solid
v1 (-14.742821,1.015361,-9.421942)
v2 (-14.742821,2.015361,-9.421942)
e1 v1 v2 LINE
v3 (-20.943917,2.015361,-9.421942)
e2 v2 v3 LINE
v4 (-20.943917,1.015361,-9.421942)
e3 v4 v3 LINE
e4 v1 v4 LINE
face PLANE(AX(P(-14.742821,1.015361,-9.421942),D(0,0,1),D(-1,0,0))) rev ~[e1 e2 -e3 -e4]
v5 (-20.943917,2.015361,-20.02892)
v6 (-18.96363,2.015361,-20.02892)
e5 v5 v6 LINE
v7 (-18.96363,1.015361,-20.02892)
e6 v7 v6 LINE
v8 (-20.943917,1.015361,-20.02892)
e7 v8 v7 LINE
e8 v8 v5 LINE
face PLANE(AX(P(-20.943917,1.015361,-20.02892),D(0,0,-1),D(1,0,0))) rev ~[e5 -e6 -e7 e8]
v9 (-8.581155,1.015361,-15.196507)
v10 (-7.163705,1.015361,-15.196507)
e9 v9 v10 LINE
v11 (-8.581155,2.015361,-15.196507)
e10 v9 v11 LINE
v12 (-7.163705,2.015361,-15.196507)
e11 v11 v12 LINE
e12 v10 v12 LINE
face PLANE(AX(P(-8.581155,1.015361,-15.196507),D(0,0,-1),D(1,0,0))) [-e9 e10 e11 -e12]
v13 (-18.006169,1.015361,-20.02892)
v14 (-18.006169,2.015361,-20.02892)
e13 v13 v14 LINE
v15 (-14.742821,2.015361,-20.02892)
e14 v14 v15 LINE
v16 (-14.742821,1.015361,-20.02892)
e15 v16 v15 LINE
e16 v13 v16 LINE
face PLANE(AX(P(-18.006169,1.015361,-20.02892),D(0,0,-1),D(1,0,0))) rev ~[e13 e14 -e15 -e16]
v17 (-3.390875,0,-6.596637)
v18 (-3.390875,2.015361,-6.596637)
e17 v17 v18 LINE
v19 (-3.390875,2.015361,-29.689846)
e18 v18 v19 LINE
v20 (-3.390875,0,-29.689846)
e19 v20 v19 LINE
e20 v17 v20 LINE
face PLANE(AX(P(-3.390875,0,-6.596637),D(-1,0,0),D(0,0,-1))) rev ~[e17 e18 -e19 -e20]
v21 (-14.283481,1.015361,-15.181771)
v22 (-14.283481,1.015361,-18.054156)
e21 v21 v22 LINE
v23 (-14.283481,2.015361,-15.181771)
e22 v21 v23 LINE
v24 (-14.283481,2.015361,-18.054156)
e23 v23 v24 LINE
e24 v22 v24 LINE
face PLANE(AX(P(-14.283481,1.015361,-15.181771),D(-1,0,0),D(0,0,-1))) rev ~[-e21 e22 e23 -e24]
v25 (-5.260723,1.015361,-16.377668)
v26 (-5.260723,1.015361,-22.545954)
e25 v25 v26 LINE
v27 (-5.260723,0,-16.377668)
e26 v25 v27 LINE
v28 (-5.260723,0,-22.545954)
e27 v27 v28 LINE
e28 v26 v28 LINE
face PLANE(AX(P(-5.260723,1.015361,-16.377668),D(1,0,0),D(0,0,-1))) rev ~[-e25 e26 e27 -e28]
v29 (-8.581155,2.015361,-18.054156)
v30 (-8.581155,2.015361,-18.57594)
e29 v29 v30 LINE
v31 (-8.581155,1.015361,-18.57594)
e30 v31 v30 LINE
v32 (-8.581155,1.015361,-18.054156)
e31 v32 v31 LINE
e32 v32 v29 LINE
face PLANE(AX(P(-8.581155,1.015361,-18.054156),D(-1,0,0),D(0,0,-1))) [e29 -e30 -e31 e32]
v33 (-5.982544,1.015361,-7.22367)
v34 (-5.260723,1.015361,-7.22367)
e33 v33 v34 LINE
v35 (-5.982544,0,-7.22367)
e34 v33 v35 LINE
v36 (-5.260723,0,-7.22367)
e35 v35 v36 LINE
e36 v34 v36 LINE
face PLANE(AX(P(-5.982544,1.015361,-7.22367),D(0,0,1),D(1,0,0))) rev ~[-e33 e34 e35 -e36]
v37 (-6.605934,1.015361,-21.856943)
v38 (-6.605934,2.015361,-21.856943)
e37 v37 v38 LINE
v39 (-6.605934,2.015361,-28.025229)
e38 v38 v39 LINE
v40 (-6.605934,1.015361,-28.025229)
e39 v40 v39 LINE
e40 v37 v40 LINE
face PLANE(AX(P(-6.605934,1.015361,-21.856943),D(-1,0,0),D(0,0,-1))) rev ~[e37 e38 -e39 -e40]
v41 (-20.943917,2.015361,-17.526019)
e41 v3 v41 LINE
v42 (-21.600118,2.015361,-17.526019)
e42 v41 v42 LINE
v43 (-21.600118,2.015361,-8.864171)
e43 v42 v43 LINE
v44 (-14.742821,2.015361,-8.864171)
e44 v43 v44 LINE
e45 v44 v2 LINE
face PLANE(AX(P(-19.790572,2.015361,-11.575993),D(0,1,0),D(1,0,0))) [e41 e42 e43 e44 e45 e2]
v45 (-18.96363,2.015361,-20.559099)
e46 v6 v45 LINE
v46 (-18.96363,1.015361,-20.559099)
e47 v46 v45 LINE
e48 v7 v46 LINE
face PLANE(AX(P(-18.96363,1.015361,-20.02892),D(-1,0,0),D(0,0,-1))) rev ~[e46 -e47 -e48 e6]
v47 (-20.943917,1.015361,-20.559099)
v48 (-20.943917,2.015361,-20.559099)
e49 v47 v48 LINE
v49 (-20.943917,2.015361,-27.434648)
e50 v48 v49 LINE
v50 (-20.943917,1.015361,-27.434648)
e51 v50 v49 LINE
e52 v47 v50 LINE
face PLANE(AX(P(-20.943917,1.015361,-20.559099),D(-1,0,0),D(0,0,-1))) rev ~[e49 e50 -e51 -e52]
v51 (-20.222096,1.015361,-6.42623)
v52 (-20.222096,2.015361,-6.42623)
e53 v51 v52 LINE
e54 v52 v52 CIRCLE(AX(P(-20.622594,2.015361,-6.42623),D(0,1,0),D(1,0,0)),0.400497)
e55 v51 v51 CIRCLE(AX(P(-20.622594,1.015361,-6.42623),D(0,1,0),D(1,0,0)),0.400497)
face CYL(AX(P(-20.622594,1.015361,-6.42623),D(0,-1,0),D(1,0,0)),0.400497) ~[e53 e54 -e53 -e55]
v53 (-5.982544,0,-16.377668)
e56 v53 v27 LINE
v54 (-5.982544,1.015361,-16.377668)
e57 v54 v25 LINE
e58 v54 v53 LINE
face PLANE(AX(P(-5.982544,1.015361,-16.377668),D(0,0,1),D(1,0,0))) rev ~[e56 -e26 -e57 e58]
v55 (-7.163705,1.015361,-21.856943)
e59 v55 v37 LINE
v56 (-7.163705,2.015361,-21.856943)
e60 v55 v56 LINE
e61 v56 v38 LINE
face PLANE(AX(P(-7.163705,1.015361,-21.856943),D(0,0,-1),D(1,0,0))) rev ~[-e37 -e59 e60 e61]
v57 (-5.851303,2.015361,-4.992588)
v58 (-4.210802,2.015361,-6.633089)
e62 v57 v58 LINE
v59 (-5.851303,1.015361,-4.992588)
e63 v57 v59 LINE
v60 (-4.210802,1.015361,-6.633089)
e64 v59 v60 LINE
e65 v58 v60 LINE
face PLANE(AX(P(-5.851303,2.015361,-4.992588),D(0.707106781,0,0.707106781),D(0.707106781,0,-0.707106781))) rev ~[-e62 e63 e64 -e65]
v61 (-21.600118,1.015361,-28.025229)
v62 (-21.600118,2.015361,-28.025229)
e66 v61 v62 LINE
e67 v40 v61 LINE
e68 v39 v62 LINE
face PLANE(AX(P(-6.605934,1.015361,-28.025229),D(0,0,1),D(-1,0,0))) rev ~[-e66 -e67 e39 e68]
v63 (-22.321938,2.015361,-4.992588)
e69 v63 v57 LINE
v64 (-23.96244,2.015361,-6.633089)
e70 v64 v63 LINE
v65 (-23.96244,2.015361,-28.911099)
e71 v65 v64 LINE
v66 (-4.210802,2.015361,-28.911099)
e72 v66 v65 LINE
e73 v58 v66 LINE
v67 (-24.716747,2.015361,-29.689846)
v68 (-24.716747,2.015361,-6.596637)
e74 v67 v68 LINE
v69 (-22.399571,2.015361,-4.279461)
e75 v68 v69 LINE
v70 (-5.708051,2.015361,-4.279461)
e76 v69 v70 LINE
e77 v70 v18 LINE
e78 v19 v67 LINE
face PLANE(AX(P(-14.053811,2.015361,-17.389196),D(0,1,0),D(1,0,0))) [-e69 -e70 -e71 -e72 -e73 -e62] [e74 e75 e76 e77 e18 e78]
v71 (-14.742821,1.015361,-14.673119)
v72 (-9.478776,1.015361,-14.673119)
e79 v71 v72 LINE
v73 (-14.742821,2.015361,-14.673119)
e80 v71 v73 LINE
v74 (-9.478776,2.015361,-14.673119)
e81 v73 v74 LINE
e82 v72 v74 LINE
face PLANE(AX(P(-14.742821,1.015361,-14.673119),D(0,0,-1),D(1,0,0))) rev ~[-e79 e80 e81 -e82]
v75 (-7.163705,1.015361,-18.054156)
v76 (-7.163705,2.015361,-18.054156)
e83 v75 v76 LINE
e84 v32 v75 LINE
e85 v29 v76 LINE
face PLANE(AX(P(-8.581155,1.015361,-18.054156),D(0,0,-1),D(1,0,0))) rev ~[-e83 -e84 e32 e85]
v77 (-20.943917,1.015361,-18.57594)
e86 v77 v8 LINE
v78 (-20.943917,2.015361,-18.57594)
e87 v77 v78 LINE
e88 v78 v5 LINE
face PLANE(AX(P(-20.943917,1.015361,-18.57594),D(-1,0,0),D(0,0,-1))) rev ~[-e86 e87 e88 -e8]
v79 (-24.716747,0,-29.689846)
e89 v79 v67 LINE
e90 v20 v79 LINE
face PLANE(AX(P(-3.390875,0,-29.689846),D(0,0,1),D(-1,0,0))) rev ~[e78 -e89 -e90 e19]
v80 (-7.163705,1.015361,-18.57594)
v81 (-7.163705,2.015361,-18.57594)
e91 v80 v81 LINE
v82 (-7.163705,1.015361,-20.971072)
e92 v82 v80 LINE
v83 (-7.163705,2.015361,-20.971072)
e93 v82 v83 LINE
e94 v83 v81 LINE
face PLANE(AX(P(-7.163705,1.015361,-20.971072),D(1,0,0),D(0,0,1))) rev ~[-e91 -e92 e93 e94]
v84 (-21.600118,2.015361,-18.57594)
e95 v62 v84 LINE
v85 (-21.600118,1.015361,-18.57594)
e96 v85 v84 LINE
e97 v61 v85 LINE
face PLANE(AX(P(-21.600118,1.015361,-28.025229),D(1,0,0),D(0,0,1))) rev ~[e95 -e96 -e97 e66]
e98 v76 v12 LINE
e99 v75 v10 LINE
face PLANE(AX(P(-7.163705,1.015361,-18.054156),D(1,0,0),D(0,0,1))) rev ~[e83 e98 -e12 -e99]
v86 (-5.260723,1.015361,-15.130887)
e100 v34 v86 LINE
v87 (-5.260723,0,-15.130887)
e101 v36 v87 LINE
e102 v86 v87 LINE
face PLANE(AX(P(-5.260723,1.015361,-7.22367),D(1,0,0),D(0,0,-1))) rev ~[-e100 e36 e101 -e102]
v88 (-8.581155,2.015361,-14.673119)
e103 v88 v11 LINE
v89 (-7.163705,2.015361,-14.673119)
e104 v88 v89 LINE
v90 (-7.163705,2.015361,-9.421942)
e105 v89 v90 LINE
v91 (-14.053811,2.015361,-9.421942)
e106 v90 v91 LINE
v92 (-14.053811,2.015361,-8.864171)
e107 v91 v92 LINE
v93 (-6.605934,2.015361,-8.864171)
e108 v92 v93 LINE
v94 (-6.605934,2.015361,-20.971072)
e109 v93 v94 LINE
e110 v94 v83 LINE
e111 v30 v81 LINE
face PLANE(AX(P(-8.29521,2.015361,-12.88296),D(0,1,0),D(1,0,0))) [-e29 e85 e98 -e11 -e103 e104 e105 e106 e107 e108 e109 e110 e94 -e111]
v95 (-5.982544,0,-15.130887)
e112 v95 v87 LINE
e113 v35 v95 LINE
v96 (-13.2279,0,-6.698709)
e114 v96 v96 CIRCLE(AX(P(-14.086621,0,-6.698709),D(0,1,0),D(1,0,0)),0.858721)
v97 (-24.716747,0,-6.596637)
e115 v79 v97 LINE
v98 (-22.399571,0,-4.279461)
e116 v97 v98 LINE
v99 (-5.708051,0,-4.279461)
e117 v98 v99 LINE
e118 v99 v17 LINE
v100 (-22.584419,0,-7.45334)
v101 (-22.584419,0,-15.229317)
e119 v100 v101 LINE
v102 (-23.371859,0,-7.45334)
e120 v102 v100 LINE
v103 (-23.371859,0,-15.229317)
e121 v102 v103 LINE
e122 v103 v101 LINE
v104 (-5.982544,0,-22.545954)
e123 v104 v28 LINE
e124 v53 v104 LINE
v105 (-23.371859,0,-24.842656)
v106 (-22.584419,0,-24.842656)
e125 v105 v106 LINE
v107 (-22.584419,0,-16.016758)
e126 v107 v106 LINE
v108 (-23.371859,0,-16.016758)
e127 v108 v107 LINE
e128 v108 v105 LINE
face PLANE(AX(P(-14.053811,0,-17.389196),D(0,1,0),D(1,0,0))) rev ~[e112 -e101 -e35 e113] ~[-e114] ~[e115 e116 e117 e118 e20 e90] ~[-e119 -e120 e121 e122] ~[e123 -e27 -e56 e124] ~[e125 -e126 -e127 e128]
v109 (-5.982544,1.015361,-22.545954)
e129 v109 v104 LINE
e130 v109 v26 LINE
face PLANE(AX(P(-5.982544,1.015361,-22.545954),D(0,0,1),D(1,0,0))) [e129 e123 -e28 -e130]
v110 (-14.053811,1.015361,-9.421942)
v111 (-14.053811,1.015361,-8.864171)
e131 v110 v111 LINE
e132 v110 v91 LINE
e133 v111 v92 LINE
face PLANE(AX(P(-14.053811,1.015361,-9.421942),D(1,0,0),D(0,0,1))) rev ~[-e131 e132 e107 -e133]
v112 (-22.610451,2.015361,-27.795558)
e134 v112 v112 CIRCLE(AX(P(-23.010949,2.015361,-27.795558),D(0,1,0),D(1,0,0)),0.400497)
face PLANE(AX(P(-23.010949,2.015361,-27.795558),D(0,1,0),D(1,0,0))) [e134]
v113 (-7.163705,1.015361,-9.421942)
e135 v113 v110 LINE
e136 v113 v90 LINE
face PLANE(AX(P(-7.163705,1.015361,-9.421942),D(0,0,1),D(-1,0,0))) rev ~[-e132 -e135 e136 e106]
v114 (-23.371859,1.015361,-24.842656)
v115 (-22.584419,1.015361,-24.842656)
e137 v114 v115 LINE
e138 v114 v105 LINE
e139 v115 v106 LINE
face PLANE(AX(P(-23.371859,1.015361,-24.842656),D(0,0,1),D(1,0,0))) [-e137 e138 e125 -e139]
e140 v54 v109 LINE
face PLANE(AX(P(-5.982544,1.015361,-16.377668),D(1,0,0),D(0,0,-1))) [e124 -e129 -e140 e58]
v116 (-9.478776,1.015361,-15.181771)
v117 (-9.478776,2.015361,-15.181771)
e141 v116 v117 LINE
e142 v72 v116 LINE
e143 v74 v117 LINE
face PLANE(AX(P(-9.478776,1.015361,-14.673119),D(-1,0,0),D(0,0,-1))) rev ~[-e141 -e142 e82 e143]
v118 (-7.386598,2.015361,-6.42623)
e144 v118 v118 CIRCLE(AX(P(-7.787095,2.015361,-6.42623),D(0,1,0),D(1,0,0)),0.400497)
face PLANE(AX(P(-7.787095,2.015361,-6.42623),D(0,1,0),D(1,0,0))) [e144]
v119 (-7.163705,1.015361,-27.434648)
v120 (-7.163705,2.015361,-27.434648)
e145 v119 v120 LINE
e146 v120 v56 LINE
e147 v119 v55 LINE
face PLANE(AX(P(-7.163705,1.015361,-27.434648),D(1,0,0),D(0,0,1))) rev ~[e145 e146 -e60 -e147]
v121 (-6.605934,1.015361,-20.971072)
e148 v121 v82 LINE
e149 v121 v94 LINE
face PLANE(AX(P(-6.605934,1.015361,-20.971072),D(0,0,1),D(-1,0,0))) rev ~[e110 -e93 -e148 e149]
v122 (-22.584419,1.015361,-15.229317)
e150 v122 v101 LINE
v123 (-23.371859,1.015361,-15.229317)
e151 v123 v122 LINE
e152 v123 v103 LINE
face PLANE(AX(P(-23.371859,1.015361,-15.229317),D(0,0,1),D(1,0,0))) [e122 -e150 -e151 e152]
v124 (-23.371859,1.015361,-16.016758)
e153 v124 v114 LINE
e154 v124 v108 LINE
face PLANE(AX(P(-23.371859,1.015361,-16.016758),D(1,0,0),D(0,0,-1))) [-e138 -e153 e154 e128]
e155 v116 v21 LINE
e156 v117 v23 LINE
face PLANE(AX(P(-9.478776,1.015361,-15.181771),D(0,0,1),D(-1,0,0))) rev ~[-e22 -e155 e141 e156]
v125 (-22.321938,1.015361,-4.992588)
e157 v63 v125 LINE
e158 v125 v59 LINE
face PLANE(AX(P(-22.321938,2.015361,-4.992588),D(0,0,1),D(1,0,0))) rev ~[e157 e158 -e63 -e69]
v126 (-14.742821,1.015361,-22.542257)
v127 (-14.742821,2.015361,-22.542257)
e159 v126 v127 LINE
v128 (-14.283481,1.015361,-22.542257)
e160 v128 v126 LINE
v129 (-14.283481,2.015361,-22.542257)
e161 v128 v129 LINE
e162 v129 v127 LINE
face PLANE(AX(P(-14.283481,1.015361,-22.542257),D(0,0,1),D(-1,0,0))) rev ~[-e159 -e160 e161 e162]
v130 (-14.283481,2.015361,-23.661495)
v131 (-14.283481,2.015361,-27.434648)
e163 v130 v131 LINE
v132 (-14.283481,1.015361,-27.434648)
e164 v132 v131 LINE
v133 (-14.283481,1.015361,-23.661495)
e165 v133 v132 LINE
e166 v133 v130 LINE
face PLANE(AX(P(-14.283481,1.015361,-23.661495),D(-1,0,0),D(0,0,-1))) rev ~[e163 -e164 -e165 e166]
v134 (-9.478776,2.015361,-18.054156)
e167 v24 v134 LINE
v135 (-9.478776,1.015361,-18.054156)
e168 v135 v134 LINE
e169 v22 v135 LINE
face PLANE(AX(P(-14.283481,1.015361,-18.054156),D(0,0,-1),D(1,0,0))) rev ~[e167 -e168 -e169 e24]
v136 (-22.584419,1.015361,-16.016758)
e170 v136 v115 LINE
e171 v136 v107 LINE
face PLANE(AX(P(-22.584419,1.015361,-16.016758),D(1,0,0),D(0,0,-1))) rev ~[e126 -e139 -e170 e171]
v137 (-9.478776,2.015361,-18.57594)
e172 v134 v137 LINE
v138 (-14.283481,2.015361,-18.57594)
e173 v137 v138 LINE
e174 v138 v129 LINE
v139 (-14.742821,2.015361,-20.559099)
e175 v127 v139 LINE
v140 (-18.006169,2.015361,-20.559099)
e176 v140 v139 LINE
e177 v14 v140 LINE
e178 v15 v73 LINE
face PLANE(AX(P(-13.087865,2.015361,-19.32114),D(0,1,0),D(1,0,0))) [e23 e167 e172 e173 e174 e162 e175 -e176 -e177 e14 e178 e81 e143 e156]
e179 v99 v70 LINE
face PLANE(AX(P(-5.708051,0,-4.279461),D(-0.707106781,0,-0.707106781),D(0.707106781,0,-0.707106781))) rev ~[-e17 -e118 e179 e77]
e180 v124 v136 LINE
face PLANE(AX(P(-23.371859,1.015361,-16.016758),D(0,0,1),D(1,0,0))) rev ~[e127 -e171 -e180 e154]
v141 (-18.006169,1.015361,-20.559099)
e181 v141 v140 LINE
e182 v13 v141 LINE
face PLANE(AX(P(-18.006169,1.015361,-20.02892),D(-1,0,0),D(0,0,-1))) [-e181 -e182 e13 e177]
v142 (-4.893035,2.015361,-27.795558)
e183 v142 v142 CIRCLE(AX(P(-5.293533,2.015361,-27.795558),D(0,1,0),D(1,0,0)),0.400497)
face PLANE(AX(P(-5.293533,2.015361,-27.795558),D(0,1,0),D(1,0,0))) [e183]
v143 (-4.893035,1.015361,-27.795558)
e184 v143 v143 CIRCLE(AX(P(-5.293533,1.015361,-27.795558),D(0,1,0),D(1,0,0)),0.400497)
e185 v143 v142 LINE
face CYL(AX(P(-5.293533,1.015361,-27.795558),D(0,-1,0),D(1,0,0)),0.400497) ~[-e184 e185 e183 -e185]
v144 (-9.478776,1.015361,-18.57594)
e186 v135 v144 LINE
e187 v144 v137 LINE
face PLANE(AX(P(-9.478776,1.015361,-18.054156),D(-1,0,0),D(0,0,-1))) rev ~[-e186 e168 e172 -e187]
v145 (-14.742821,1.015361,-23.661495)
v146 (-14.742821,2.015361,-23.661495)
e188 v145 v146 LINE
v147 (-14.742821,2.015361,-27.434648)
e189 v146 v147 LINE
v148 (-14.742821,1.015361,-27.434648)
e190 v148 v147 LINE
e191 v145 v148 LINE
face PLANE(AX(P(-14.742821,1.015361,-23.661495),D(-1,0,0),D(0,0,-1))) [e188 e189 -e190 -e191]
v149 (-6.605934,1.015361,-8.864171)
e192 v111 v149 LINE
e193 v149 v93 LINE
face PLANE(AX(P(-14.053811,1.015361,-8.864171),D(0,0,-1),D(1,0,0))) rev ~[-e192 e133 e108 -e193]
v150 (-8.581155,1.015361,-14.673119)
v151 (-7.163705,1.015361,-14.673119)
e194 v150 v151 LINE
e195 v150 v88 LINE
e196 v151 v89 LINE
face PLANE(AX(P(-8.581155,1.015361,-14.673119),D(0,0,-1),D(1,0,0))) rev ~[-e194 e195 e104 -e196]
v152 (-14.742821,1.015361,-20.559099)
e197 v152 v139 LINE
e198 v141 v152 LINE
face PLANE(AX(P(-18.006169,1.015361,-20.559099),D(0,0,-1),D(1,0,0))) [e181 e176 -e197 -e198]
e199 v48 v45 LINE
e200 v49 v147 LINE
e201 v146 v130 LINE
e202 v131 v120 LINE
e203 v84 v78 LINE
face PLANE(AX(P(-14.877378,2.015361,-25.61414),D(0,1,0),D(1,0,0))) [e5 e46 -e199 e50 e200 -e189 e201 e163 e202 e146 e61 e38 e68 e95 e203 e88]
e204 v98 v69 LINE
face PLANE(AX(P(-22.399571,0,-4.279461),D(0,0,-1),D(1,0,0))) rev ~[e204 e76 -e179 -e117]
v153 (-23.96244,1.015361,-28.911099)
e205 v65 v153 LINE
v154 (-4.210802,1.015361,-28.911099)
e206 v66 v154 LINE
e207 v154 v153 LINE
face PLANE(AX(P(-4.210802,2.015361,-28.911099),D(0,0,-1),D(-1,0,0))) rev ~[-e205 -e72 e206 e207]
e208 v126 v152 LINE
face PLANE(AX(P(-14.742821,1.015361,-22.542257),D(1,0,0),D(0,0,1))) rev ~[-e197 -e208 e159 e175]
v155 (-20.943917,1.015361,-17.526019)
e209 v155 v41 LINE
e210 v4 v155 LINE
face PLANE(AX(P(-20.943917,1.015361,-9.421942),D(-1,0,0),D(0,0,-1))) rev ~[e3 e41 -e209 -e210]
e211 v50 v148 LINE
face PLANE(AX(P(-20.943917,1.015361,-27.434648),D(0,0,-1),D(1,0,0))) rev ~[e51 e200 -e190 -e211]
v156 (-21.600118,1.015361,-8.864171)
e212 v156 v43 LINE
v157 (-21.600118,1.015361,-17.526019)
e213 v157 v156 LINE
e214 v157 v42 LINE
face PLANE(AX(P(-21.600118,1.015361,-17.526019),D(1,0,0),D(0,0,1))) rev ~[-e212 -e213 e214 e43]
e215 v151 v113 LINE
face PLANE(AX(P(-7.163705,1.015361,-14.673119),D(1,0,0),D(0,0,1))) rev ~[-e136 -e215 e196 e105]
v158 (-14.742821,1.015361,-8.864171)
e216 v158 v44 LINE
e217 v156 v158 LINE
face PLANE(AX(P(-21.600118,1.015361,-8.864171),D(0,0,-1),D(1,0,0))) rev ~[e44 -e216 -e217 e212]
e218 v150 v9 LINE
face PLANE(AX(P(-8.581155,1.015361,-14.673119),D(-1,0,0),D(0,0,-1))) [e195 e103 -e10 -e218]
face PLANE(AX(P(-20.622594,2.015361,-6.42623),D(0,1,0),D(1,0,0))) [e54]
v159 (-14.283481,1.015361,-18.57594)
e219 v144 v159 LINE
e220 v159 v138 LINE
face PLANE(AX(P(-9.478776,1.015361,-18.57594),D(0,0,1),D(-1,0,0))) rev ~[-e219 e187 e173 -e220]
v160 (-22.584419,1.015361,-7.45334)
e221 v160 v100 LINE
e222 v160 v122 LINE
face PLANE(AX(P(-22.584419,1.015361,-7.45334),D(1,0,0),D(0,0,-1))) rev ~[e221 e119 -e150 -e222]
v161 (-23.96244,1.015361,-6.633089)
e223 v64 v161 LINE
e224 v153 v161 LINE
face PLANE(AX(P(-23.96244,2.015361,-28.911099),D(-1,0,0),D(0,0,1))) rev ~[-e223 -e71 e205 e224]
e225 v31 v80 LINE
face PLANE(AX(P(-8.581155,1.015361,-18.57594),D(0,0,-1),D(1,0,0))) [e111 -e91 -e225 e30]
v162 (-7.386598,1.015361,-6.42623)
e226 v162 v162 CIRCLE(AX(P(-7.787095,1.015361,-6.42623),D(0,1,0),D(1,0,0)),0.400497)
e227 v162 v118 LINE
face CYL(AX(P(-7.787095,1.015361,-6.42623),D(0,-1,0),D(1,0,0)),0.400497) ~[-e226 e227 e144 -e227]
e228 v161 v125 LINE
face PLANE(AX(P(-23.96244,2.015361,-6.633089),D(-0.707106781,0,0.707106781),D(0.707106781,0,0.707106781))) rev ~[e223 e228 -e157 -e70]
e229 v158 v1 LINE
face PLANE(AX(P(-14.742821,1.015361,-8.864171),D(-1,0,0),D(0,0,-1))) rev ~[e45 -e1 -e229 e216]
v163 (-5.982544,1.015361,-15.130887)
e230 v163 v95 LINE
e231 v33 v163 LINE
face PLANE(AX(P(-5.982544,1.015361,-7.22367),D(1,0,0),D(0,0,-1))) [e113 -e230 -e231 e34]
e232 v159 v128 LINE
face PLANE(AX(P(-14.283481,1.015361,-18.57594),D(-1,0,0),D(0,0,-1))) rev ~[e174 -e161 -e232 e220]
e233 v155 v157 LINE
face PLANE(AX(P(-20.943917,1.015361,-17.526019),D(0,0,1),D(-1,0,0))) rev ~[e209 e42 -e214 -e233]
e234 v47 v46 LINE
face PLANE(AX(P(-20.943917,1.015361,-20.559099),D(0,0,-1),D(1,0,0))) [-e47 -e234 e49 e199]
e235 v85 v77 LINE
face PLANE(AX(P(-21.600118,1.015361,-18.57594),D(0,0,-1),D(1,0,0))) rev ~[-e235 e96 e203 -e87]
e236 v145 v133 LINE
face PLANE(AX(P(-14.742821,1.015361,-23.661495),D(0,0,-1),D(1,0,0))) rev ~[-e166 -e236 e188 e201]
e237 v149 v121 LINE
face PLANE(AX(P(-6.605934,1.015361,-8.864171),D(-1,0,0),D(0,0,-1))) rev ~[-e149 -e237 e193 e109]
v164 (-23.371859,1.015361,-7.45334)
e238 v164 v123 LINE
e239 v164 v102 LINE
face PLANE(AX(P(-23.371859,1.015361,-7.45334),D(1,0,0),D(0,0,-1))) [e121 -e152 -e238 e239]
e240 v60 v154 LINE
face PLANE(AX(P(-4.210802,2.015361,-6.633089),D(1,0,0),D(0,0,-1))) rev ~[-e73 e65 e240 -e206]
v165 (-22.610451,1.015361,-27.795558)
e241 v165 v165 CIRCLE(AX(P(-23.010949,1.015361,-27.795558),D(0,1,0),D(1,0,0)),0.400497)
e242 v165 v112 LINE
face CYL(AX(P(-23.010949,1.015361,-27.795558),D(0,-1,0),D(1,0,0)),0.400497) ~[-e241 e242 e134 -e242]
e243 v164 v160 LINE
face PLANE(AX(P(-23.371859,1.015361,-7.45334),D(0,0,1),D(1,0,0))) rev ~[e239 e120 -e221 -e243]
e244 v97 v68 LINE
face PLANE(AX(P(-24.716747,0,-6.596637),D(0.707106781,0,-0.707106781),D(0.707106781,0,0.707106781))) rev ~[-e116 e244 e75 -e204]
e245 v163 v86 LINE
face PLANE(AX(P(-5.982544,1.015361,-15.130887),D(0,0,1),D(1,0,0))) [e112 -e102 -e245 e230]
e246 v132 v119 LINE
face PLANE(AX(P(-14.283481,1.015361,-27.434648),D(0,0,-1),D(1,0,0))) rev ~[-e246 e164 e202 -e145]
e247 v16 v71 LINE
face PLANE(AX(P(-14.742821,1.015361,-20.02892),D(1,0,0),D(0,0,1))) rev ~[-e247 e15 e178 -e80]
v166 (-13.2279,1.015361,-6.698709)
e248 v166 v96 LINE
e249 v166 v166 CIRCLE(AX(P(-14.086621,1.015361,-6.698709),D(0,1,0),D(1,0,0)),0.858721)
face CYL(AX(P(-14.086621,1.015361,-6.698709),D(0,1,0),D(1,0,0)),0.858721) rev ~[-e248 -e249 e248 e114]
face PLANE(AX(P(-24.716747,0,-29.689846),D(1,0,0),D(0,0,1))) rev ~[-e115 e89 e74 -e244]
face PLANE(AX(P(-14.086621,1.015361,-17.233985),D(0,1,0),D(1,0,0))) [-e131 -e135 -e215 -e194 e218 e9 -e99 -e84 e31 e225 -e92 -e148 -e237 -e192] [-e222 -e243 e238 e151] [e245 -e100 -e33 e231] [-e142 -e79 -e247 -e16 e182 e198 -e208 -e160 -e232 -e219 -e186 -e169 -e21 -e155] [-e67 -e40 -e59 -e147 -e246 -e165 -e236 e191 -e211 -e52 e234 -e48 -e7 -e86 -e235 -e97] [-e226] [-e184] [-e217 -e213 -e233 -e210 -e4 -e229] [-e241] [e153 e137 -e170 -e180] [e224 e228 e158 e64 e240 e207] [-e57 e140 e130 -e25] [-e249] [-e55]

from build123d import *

# Parameters (mm, degrees)
BOSS_EXTRUDE1_DEPTH = 2.015360823
CUT_EXTRUDE4_DEPTH  = 1
SKETCH14_W          = 0.787440713
SKETCH14_H          = 8.825897992
SKETCH14_H_2        = 7.775977042
SKETCH14_W_2        = 0.721820654
SKETCH14_H_3        = 6.168285585
SKETCH14_H_4        = 7.907217161
CUT_EXTRUDE8_DEPTH  = 2
SKETCH16_R          = 0.858720655
CUT_EXTRUDE9_DEPTH  = 2
SKETCH17_W          = 1.980286876
SKETCH17_H          = 0.530178386
SKETCH17_W_2        = 0.459340416
SKETCH17_H_2        = 3.773153417
SKETCH17_W_3        = 1.417450885
SKETCH17_H_3        = 0.52338797
SKETCH17_H_4        = 0.521784595
SKETCH17_W_4        = 3.263347093
BOSS_EXTRUDE5_DEPTH = 1
SKETCH18_R          = 0.400497452
BOSS_EXTRUDE6_DEPTH = 1


with BuildPart() as part:
    # Sketch1 → Boss-Extrude1 (new body)
    with BuildSketch(Plane(origin=(0, 0, 0), x_dir=(1, 0, 0), z_dir=(0, 1, 0))):
        Polygon((-24.716746523, 29.689845928), (-24.716746523, 27.490492708), (-24.716746523, 6.596637121), (-22.39957081, 4.279461407), (-5.708050839, 4.279461407), (-3.390875125, 6.596637121), (-3.390875125, 29.689845928), align=None)
    extrude(amount=BOSS_EXTRUDE1_DEPTH)

    # Sketch13 → Cut-Extrude4 (cut)
    with BuildSketch(Plane(origin=(0, 2.015360823, 0), x_dir=(1, 0, 0), z_dir=(0, 1, 0))):
        Polygon((-23.962439797, 28.911099467), (-23.962439797, 6.633089294), (-22.321938311, 4.992587808), (-5.851303397, 4.992587808), (-4.210801911, 6.633089294), (-4.210801911, 28.911099467), align=None)
    extrude(amount=-CUT_EXTRUDE4_DEPTH, mode=Mode.SUBTRACT)

    # Sketch14 → Cut-Extrude8 (cut)
    with BuildSketch(Plane(origin=(0, 1.015360823, 0), x_dir=(1, 0, 0), z_dir=(0, 1, 0))):
        with Locations((-22.978138906, 20.429706787)):
            Rectangle(SKETCH14_W, SKETCH14_H)
        with Locations((-22.978138906, 11.341328557)):
            Rectangle(SKETCH14_W, SKETCH14_H_2)
        with Locations((-5.621633189, 19.461810911)):
            Rectangle(SKETCH14_W_2, SKETCH14_H_3)
        with Locations((-5.621633189, 11.177278409)):
            Rectangle(SKETCH14_W_2, SKETCH14_H_4)
    extrude(amount=-CUT_EXTRUDE8_DEPTH, mode=Mode.SUBTRACT)

    # Sketch16 → Cut-Extrude9 (cut)
    with BuildSketch(Plane(origin=(0, 1.015360823, 0), x_dir=(1, 0, 0), z_dir=(0, 1, 0))):
        with Locations((-14.086620854, 6.698709353)):
            Circle(SKETCH16_R)
    extrude(amount=-CUT_EXTRUDE9_DEPTH, mode=Mode.SUBTRACT)

    # Sketch17 → Boss-Extrude5 (add)
    with BuildSketch(Plane(origin=(0, 1.015360823, 0), x_dir=(1, 0, 0), z_dir=(0, 1, 0))):
        Polygon((-6.60593408, 28.025228665), (-21.600117658, 28.025228665), (-21.600117658, 18.575940108), (-20.943917063, 18.575940108), (-20.943917063, 20.028920156), (-20.943917063, 20.559098542), (-20.943917063, 27.43464813), (-14.742821448, 27.43464813), (-14.283481032, 27.43464813), (-7.163704585, 27.43464813), (-7.163704585, 21.856943079), (-6.60593408, 21.856943079), align=None)
        with Locations((-19.953773625, 20.294009349)):
            Rectangle(SKETCH17_W, SKETCH17_H)
        with Locations((-14.51315124, 25.548071422)):
            Rectangle(SKETCH17_W_2, SKETCH17_H_2)
        Polygon((-20.943917063, 17.526019157), (-21.600117658, 17.526019157), (-21.600117658, 8.864171314), (-14.742821448, 8.864171314), (-14.742821448, 9.421941819), (-20.943917063, 9.421941819), align=None)
        Polygon((-7.163704585, 9.421941819), (-14.053810824, 9.421941819), (-14.053810824, 8.864171314), (-6.60593408, 8.864171314), (-6.60593408, 20.971072277), (-7.163704585, 20.971072277), (-7.163704585, 18.575940108), (-7.163704585, 18.054155513), (-7.163704585, 15.196507048), (-7.163704585, 14.673119078), align=None)
        with Locations((-7.872430028, 14.934813063)):
            Rectangle(SKETCH17_W_3, SKETCH17_H_3)
        with Locations((-7.872430028, 18.315047811)):
            Rectangle(SKETCH17_W_3, SKETCH17_H_4)
        Polygon((-14.283481032, 22.542256975), (-14.742821448, 22.542256975), (-14.742821448, 20.559098542), (-14.742821448, 20.028920156), (-14.742821448, 18.054155513), (-14.283481032, 18.054155513), (-9.478775763, 18.054155513), (-9.478775763, 18.575940108), (-14.283481032, 18.575940108), align=None)
        with Locations((-16.374494995, 20.294009349)):
            Rectangle(SKETCH17_W_4, SKETCH17_H)
        Polygon((-14.283481032, 18.054155513), (-14.742821448, 18.054155513), (-14.742821448, 14.673119078), (-9.478775763, 14.673119078), (-9.478775763, 15.181770577), (-14.283481032, 15.181770577), align=None)
    extrude(amount=BOSS_EXTRUDE5_DEPTH)

    # Sketch18 → Boss-Extrude6 (add)
    with BuildSketch(Plane(origin=(0, 1.015360823, 0), x_dir=(1, 0, 0), z_dir=(0, 1, 0))):
        with Locations((-23.010948935, 27.795558457)):
            Circle(SKETCH18_R)
        with Locations((-20.622593862, 6.426229891)):
            Circle(SKETCH18_R)
        with Locations((-5.293532892, 27.795558457)):
            Circle(SKETCH18_R)
        with Locations((-7.78709515, 6.426229891)):
            Circle(SKETCH18_R)
    extrude(amount=BOSS_EXTRUDE6_DEPTH)


solid = part.part
